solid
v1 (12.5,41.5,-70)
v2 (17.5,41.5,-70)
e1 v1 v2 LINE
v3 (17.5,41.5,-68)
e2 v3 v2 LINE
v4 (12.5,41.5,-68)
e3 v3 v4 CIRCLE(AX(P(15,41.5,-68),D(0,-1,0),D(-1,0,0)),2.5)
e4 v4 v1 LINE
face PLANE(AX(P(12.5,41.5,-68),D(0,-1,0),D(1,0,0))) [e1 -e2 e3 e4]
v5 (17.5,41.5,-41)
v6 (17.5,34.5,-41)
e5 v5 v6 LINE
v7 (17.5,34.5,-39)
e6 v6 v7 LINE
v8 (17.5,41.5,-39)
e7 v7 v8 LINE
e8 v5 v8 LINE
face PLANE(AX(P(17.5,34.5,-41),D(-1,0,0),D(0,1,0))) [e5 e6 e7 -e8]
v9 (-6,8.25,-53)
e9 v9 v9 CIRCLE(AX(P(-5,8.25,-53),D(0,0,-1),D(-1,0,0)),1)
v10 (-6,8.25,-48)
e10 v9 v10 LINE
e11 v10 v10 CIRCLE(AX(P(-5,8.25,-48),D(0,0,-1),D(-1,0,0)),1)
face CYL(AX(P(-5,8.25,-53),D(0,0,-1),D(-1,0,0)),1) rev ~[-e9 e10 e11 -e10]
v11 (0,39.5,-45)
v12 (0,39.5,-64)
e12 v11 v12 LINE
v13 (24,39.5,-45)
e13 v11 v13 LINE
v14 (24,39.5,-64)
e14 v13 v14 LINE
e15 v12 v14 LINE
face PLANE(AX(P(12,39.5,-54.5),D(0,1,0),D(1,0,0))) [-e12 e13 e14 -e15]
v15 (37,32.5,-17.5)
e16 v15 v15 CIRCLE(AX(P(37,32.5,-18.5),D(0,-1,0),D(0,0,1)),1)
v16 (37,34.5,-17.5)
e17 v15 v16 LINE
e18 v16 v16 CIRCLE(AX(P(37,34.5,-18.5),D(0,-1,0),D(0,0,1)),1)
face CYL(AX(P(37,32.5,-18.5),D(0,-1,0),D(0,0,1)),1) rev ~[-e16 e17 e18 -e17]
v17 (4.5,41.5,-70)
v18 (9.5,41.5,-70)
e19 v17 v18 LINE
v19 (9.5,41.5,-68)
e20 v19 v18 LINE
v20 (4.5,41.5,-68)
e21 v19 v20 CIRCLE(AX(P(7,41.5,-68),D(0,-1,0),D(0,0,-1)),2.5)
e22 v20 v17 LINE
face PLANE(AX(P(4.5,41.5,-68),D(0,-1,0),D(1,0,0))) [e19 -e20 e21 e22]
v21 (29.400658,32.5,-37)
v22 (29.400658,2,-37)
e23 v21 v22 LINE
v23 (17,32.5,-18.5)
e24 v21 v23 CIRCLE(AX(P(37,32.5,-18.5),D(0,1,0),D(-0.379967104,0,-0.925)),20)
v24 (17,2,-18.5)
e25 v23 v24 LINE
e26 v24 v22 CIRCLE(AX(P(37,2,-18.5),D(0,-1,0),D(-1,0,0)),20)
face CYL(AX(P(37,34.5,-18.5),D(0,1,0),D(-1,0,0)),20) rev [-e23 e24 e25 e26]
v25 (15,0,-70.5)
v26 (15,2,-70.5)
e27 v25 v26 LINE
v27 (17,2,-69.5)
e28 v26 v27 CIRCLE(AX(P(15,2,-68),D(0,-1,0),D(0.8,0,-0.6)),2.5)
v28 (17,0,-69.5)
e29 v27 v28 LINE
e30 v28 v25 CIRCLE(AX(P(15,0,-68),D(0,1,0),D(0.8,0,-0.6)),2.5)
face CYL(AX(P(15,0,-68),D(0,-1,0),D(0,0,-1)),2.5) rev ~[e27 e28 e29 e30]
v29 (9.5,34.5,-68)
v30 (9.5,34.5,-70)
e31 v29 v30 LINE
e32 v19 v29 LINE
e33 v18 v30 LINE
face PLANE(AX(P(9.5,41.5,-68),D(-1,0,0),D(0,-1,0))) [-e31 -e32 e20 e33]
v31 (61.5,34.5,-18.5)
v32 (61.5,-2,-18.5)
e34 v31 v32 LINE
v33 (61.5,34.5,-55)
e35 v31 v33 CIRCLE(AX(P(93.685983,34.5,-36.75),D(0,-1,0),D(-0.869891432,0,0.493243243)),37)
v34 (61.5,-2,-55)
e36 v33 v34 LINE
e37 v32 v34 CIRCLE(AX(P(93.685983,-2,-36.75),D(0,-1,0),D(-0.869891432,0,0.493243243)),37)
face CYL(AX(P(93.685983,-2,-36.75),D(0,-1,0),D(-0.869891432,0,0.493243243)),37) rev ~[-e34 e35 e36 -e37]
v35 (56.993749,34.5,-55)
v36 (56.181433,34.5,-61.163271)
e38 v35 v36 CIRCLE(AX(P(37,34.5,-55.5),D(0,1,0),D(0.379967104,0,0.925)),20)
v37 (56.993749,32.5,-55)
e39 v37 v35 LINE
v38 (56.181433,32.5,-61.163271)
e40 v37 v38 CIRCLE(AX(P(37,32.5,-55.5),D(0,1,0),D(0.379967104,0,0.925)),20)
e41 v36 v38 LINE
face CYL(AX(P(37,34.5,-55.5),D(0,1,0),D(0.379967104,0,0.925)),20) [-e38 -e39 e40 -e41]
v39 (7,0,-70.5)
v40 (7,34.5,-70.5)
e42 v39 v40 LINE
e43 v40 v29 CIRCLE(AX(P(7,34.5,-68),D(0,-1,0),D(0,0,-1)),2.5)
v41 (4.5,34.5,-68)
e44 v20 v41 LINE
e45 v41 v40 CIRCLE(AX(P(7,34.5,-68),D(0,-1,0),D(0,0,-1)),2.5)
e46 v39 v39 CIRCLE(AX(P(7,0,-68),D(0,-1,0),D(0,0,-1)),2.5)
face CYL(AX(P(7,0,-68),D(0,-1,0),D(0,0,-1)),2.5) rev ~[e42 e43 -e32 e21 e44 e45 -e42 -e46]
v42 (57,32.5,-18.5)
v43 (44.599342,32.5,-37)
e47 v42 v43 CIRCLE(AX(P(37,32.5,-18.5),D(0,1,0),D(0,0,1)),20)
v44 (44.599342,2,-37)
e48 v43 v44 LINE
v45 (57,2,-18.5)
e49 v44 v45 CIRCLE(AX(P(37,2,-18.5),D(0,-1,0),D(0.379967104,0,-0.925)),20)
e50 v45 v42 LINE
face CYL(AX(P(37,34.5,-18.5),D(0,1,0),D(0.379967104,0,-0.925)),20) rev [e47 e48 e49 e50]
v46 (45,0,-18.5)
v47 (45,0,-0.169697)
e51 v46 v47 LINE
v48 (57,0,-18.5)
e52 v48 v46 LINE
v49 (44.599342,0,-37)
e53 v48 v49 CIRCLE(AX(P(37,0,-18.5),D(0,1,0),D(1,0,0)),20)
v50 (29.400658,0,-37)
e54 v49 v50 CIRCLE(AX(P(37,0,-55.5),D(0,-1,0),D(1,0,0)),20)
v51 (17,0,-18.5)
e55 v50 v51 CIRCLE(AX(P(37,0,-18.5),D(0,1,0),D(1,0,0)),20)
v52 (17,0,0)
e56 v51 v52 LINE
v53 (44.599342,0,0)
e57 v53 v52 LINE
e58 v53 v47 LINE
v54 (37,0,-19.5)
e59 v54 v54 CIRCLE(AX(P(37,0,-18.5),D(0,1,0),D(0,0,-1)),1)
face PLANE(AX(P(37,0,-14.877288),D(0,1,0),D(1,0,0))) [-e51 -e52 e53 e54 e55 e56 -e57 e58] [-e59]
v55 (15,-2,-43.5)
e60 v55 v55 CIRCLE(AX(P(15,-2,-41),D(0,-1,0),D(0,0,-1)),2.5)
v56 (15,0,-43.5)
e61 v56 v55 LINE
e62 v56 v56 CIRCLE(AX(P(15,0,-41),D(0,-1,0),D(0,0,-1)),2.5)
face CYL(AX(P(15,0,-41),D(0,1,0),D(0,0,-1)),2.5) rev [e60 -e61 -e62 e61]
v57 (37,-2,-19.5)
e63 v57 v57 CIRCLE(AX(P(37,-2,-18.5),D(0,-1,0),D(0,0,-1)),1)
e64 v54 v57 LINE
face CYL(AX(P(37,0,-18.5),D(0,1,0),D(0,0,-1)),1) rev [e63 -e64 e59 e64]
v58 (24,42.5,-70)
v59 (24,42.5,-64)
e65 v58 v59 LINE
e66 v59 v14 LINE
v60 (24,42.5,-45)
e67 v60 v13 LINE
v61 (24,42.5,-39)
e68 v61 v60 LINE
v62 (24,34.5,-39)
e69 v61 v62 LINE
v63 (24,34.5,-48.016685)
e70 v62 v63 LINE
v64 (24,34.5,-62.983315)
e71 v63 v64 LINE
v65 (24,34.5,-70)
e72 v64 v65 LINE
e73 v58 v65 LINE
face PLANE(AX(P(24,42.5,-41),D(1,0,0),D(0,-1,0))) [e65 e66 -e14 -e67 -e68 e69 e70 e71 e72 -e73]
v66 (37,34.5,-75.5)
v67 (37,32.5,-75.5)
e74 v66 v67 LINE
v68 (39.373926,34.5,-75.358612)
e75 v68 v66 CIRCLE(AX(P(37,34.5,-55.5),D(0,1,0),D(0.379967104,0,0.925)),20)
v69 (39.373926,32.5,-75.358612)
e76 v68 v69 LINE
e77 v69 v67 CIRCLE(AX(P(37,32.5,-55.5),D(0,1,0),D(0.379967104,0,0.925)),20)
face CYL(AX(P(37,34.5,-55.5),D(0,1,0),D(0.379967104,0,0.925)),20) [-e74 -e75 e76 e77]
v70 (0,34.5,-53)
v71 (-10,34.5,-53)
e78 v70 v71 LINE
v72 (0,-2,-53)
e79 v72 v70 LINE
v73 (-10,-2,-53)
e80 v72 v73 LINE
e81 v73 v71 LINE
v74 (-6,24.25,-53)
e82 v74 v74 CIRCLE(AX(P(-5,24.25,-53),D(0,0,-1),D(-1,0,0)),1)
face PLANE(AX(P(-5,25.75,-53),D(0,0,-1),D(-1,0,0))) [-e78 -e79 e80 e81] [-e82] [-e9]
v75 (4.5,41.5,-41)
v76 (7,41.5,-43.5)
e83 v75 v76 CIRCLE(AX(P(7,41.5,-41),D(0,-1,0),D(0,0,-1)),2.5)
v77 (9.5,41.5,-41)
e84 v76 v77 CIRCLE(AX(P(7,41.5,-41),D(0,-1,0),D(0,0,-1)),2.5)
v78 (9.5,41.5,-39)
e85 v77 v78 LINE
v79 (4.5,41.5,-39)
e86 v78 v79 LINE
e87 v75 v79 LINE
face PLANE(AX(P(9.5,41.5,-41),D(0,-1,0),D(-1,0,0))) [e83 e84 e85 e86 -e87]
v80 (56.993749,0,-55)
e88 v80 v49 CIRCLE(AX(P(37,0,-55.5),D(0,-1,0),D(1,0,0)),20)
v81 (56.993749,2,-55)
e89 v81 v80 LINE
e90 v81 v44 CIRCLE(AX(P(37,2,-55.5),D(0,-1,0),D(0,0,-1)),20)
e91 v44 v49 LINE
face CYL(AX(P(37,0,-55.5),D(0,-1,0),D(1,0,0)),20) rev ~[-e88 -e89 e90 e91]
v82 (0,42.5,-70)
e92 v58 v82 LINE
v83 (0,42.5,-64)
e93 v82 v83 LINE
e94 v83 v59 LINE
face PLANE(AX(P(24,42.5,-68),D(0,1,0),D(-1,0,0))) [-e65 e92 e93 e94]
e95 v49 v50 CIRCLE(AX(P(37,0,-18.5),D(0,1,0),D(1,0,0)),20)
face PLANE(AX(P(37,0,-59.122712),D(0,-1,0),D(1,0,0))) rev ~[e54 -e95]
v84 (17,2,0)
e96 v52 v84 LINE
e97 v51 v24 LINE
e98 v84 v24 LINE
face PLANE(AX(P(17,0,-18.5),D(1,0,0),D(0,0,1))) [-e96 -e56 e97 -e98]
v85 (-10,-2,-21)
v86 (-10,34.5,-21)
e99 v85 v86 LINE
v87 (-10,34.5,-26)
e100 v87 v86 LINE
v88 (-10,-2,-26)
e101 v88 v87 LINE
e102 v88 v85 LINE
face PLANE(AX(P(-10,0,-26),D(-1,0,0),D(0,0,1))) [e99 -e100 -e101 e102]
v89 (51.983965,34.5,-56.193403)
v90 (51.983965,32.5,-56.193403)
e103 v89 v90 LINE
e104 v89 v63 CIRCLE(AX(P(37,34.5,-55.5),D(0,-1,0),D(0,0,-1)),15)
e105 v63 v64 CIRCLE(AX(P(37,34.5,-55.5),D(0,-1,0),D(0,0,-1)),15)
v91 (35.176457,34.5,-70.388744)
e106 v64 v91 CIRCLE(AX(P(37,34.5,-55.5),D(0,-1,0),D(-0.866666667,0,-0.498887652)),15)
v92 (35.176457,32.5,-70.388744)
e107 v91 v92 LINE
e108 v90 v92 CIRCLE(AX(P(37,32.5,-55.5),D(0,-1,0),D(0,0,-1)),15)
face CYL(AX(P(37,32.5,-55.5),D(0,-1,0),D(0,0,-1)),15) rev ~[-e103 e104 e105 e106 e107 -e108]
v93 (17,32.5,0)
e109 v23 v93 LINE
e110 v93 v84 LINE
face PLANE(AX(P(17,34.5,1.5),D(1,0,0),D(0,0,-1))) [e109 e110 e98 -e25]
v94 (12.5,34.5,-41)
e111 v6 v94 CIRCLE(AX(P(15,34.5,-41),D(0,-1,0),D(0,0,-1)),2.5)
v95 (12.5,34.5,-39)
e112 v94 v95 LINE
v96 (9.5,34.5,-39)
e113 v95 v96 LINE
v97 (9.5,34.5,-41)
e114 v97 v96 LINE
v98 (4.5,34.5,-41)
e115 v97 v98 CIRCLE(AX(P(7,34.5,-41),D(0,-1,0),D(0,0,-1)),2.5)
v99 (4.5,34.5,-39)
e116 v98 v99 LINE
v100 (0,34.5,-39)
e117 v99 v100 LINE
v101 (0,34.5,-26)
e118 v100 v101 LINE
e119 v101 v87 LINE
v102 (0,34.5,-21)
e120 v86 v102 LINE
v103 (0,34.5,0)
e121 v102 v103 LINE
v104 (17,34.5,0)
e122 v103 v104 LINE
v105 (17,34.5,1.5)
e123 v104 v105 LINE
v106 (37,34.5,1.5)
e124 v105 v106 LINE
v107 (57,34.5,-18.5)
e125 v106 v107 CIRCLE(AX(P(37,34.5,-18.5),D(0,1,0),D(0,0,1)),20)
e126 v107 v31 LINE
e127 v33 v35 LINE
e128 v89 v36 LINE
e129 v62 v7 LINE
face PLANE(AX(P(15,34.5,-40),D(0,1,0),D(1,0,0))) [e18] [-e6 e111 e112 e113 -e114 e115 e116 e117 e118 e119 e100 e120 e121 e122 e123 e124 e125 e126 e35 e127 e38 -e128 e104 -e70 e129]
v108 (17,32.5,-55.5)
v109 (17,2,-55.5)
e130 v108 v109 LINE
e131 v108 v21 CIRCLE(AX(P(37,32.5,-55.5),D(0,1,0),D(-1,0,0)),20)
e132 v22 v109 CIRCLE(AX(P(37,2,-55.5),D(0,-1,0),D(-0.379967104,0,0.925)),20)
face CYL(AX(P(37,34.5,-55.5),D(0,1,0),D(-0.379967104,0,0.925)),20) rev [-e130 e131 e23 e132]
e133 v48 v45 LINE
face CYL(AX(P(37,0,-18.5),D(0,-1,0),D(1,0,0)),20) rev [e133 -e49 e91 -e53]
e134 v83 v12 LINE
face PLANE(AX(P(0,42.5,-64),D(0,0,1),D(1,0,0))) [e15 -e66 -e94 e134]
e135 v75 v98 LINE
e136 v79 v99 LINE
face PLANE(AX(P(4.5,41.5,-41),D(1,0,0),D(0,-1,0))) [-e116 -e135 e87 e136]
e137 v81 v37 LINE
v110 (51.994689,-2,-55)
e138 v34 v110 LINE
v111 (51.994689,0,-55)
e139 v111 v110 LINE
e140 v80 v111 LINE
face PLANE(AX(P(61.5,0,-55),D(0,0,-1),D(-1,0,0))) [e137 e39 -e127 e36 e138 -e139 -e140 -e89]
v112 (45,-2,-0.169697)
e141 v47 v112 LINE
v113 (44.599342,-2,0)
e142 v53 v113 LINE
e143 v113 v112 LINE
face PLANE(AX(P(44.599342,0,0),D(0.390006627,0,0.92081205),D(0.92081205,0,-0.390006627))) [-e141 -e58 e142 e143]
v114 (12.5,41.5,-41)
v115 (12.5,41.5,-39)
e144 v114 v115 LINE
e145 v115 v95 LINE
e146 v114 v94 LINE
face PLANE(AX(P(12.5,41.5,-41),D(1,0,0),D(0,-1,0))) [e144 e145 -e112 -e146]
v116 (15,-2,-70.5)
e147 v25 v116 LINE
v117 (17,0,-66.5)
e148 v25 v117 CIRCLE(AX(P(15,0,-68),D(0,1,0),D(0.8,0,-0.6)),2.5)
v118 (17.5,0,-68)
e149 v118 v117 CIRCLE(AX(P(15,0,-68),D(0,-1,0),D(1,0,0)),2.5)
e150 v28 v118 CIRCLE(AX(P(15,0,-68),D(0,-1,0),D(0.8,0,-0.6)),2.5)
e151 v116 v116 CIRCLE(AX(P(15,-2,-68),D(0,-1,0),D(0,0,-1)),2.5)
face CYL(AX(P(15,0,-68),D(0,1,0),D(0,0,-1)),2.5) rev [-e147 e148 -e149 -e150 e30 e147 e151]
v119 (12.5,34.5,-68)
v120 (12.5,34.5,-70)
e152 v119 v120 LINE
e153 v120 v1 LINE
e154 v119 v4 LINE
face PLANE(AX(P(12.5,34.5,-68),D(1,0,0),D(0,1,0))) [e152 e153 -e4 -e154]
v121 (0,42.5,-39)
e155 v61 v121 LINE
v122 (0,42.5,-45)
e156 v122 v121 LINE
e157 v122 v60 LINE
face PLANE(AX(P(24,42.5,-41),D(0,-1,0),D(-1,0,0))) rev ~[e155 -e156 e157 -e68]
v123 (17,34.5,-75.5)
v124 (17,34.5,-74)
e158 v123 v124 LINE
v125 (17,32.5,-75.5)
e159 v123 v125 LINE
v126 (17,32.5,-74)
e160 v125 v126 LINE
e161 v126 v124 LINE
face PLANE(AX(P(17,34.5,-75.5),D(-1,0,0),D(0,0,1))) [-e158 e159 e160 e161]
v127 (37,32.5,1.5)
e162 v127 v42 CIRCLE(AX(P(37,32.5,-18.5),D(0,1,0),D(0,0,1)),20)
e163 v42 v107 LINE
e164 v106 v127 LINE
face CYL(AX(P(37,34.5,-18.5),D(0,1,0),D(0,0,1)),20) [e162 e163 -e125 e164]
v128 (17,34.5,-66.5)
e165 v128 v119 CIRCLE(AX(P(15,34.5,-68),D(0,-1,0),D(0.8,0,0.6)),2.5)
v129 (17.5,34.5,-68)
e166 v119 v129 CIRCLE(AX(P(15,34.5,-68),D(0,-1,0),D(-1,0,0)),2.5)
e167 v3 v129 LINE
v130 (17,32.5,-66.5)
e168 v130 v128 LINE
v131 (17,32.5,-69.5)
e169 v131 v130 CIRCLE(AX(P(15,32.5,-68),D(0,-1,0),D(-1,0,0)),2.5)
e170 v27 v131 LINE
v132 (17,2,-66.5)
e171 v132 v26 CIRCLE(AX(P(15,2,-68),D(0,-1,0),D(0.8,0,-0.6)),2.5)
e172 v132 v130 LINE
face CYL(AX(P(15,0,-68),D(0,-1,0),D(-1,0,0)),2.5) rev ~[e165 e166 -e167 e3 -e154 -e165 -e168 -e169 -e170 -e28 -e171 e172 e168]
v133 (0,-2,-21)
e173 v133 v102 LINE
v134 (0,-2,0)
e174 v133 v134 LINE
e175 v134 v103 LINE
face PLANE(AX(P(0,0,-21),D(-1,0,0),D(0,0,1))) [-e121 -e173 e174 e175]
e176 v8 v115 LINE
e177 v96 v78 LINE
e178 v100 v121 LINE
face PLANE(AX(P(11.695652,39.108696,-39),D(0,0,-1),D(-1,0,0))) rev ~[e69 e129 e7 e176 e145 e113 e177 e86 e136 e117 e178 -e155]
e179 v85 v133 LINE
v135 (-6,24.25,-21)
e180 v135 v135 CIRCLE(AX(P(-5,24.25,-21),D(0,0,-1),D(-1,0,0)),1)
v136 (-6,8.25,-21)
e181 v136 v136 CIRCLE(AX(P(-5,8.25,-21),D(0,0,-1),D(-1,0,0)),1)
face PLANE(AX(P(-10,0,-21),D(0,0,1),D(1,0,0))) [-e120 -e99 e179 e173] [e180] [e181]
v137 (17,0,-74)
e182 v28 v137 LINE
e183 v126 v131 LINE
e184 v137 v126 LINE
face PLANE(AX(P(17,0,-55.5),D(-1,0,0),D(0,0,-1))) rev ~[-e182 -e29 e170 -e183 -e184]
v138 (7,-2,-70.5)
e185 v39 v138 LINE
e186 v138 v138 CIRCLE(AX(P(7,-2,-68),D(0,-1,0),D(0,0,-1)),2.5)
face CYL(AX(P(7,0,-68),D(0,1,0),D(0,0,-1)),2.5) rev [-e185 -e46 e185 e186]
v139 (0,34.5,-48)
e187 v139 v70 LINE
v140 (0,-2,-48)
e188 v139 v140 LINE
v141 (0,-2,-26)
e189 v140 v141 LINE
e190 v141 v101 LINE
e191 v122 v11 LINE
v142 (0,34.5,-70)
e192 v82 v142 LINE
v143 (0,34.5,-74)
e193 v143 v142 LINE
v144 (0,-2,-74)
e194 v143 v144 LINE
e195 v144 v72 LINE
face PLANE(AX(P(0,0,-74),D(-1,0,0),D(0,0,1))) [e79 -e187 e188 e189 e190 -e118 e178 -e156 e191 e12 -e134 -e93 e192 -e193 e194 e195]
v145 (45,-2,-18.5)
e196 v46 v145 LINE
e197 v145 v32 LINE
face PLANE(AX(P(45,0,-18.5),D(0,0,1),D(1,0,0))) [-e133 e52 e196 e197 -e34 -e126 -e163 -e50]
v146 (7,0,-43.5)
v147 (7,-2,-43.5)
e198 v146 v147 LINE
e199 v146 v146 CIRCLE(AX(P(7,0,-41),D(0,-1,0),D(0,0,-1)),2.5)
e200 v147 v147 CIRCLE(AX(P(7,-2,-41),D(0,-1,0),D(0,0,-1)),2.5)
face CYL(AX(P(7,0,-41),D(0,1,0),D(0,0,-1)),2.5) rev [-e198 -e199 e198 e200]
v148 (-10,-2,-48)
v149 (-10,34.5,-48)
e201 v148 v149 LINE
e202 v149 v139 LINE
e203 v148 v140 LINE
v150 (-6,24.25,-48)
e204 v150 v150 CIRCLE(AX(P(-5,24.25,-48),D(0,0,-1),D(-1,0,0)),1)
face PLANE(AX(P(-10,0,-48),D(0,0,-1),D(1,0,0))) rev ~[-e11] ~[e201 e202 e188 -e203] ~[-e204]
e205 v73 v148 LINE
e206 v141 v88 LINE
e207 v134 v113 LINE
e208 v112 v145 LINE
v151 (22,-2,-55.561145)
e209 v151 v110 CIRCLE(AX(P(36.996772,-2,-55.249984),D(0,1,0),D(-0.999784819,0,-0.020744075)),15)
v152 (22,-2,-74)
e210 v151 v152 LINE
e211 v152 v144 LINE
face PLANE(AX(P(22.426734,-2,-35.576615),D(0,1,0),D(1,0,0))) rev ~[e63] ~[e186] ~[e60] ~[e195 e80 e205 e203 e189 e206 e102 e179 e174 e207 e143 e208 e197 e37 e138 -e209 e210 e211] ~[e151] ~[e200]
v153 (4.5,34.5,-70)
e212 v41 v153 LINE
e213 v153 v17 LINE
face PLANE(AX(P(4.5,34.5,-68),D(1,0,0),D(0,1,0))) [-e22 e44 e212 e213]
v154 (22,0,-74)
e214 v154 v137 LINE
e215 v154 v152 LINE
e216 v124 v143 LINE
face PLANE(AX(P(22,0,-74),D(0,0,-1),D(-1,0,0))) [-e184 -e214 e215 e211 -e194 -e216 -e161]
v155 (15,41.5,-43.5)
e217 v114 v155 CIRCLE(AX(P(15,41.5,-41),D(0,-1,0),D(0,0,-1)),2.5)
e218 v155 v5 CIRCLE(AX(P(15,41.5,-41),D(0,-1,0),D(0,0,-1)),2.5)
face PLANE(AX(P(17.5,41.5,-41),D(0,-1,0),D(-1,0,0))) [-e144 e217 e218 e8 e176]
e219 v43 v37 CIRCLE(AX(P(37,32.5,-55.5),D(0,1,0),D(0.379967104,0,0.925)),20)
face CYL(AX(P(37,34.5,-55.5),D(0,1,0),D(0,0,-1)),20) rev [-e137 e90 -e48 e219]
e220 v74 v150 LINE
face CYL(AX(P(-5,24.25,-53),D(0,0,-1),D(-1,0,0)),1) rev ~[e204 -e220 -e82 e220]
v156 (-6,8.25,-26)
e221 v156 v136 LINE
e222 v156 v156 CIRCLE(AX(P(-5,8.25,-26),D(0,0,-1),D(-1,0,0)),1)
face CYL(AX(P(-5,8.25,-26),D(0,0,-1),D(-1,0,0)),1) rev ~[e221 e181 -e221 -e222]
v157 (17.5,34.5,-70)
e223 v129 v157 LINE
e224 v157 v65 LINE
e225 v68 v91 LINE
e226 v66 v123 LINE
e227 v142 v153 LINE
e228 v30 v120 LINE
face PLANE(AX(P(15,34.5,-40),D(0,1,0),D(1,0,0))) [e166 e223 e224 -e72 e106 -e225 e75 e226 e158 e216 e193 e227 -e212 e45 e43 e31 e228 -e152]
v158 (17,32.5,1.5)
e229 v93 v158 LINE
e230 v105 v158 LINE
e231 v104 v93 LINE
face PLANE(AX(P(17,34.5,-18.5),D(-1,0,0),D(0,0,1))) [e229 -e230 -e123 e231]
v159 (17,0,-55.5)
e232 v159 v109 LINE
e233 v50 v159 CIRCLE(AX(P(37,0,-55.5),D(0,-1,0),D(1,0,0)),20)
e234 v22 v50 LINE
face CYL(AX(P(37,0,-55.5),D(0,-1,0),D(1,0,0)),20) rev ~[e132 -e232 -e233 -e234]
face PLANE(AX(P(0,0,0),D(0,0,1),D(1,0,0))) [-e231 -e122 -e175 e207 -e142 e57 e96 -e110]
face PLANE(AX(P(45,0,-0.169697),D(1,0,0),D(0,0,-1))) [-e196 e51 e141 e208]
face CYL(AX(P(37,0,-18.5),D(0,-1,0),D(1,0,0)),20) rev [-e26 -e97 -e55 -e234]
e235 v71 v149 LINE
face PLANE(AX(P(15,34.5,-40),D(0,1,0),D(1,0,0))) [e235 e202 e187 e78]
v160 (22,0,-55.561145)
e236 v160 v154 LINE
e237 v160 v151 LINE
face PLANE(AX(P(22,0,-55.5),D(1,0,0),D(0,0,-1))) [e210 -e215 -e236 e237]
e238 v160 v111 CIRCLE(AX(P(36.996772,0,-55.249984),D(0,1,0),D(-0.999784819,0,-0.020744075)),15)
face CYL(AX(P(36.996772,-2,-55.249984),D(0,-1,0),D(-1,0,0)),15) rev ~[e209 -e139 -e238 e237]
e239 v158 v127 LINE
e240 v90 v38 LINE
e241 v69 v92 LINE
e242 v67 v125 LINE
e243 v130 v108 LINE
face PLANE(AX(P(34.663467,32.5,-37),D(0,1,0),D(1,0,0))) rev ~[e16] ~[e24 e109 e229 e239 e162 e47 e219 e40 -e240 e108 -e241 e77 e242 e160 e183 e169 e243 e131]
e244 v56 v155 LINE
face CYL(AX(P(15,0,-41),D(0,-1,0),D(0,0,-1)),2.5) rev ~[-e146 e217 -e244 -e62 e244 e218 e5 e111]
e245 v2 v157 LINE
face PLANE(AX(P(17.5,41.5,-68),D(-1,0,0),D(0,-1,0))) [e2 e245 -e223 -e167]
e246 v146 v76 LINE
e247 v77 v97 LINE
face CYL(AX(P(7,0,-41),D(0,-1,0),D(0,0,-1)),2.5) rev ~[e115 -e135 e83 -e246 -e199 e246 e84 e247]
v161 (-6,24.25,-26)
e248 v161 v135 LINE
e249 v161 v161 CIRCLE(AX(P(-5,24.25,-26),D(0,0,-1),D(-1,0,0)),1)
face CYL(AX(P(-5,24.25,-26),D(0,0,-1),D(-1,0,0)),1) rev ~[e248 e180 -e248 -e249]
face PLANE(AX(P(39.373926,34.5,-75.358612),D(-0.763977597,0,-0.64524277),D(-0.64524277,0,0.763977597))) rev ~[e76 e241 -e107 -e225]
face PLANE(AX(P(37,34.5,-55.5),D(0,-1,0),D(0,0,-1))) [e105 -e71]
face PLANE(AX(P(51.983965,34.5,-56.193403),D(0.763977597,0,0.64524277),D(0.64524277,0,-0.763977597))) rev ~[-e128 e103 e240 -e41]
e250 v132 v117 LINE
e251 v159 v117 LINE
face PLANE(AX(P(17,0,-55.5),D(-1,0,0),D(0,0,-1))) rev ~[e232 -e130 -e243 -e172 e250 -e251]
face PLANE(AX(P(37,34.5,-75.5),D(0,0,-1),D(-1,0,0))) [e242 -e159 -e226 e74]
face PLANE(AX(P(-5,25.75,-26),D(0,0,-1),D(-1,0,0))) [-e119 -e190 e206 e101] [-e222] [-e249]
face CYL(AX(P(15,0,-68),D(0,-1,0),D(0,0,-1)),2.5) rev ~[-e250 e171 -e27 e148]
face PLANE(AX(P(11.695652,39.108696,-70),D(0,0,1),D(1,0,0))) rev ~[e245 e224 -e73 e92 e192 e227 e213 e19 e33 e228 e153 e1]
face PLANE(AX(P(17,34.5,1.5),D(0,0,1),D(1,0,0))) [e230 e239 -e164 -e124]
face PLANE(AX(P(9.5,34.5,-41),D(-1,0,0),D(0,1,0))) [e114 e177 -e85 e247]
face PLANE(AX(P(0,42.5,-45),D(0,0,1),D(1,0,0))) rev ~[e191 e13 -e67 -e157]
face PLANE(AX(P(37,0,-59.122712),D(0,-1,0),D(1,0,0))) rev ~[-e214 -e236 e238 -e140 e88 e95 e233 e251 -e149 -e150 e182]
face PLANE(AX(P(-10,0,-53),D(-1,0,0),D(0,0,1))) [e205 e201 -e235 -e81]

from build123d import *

# Parameters (mm, degrees)
SKETCH1_R                = 2
SKETCH1_R_2              = 1
BOSS_EXTRUDE18_DEPTH     = 34.5
CUT_EXTRUDE16_DEPTH      = 32.5
BOSS_EXTRUDE21_DEPTH     = 2
SKETCH9_R                = 2
BOSS_EXTRUDE22_DEPTH     = 34.5
SKETCH10_R               = 2
BOSS_EXTRUDE23_DEPTH     = 34.5
SKETCH11_R               = 2
CUT_EXTRUDE17_DEPTH      = 34.5
SKETCH12_W               = 24
SKETCH12_H               = 27
BOSS_EXTRUDE24_DEPTH     = 8
SKETCH13_W               = 24
SKETCH13_H               = 19
CUT_EXTRUDE18_DEPTH      = 3
SKETCH16_R               = 2.5
CUT_EXTRUDE21_DEPTH      = 41.5
SKETCH20_R               = 2.5
CUT_EXTRUDE22_DEPTH      = 41.5
SKETCH21_R               = 2.5
CUT_EXTRUDE23_DEPTH      = 41.5
SKETCH22_R               = 2.5
CUT_EXTRUDE24_DEPTH      = 41.5
BOSS_EXTRUDE25_DEPTH     = 2
BOSS_EXTRUDE26_DEPTH     = 2
SKETCH27_R               = 1
CUT_EXTRUDE27_DEPTH      = 5
SKETCH28_R               = 1
CUT_EXTRUDE28_DEPTH      = 5
SKETCH29_R               = 15
CUT_EXTRUDE29_DEPTH      = 2
SKETCH30_R               = 1
CUT_EXTRUDE30_DEPTH      = 2
CUT_EXTRUDE31_DEPTH      = 104.309002512
CUT_EXTRUDE31_DEPTH_BACK = 10
SKETCH32_R               = 2.5
SKETCH32_R_2             = 1
BOSS_EXTRUDE28_DEPTH     = 2
CUT_EXTRUDE32_DEPTH      = 2
SKETCH35_R               = 15
CUT_EXTRUDE33_DEPTH      = 2
BOSS_EXTRUDE30_START     = -2
SKETCH36_R               = 2.5
BOSS_EXTRUDE30_DEPTH     = 2
CUT_EXTRUDE40_START      = -2
CUT_EXTRUDE40_DEPTH      = 2
SKETCH39_R               = 2.5
CUT_EXTRUDE41_DEPTH      = 2
CUT_EXTRUDE42_START      = -2
CUT_EXTRUDE42_DEPTH      = 2
SKETCH42_R               = 1
BOSS_EXTRUDE31_DEPTH     = 5
SKETCH43_R               = 1
CUT_EXTRUDE44_DEPTH      = 5
SKETCH46_R               = 1
BOSS_EXTRUDE32_DEPTH     = 5
SKETCH47_R               = 1
CUT_EXTRUDE45_DEPTH      = 5
SKETCH48_R               = 1
BOSS_EXTRUDE33_DEPTH     = 5
SKETCH49_R               = 1
CUT_EXTRUDE46_DEPTH      = 5
SKETCH50_R               = 1
BOSS_EXTRUDE34_DEPTH     = 5
SKETCH51_R               = 1
CUT_EXTRUDE47_DEPTH      = 5


with BuildPart() as part:
    # Sketch1 → Boss-Extrude18 (new body)
    with BuildSketch(Plane(origin=(0, 0, 0), x_dir=(1, 0, 0), z_dir=(0, 1, 0))):
        with BuildLine():
            Line((0, 0), (17, 0))
            Line((17, 0), (17, 18.5))
            ThreePointArc((17, 18.5), (20.386950287, 29.635824138), (29.400657923, 37))
            ThreePointArc((29.400657923, 37), (20.386950287, 44.364175862), (17, 55.5))
            Line((17, 55.5), (17, 66.5))
            ThreePointArc((17, 66.5), (12.5, 68), (17, 69.5))
            Line((17, 69.5), (17, 74))
            Line((17, 74), (0, 74))
            Line((0, 74), (0, 53))
            Line((0, 53), (-10, 53))
            Line((-10, 53), (-10, 48))
            Line((-10, 48), (0, 48))
            Line((0, 48), (0, 26))
            Line((0, 26), (-10, 26))
            Line((-10, 26), (-10, 21))
            Line((-10, 21), (0, 21))
            Line((0, 21), (0, 0))
        make_face()
        with Locations(Location((7, 40, 0), (0, 0, 270))):
            Circle(SKETCH1_R, mode=Mode.SUBTRACT)
        with Locations(Location((15, 40, 0), (0, 0, 270))):
            Circle(SKETCH1_R, mode=Mode.SUBTRACT)
        with Locations(Location((7, 68, 0), (0, 0, 270))):
            Circle(SKETCH1_R, mode=Mode.SUBTRACT)
        with BuildLine():
            ThreePointArc((44.599342077, 37), (53.613049713, 29.635824138), (57, 18.5))
            Line((57, 18.5), (61.5, 18.5))
            ThreePointArc((61.5, 18.5), (56.685982974, 36.75), (61.5, 55))
            Line((61.5, 55), (56.993749023, 55))
            ThreePointArc((56.993749023, 55), (53.472542885, 44.157366669), (44.599342077, 37))
        make_face()
        with BuildLine():
            ThreePointArc((44.599342077, 0), (44.800132537, 0.083759004), (45, 0.16969722))
            Line((45, 0.16969722), (45, 18.5))
            Line((45, 18.5), (57, 18.5))
            ThreePointArc((57, 18.5), (53.613049713, 29.635824138), (44.599342077, 37))
            ThreePointArc((44.599342077, 37), (53.472542885, 44.157366669), (56.993749023, 55))
            Line((56.993749023, 55), (51.991664351, 55))
            ThreePointArc((51.991664351, 55), (36.749965261, 40.502084057), (22, 55.5))
            Line((22, 55.5), (22, 74))
            Line((22, 74), (17, 74))
            Line((17, 74), (17, 69.5))
            ThreePointArc((17, 69.5), (17.371708245, 68.790569415), (17.5, 68))
            ThreePointArc((17.5, 68), (17.371708245, 67.209430585), (17, 66.5))
            Line((17, 66.5), (17, 55.5))
            ThreePointArc((17, 55.5), (20.386950287, 44.364175862), (29.400657923, 37))
            ThreePointArc((29.400657923, 37), (20.386950287, 29.635824138), (17, 18.5))
            Line((17, 18.5), (17, 0))
            Line((17, 0), (44.599342077, 0))
        make_face()
        with Locations(Location((37, 18.5, 0), (0, 0, 270))):
            Circle(SKETCH1_R_2, mode=Mode.SUBTRACT)
    extrude(amount=BOSS_EXTRUDE18_DEPTH)

    # Sketch7 → Cut-Extrude16 (cut)
    with BuildSketch(Plane(origin=(0, 34.5, 0), x_dir=(1, 0, 0), z_dir=(0, 1, 0))):
        with BuildLine():
            Line((17, 55.5), (17, 75.5))
            Line((17, 75.5), (37, 75.5))
            ThreePointArc((37, 75.5), (56.62141687, 59.372983346), (44.599342077, 37))
            ThreePointArc((44.599342077, 37), (56.62141687, 14.627016654), (37, -1.5))
            Line((37, -1.5), (17, -1.5))
            Line((17, -1.5), (17, 18.5))
            ThreePointArc((17, 18.5), (20.386950287, 29.635824138), (29.400657923, 37))
            ThreePointArc((29.400657923, 37), (20.386950287, 44.364175862), (17, 55.5))
        make_face()
    extrude(amount=-CUT_EXTRUDE16_DEPTH, mode=Mode.SUBTRACT)

    # Sketch8 → Boss-Extrude21 (add)
    with BuildSketch(Plane(origin=(0, 34.5, 0), x_dir=(1, 0, 0), z_dir=(0, 1, 0))):
        with BuildLine():
            Line((17, 18.5), (17, -1.5))
            Line((17, -1.5), (37, -1.5))
            ThreePointArc((37, -1.5), (56.62141687, 14.627016654), (44.599342077, 37))
            ThreePointArc((44.599342077, 37), (56.62141687, 59.372983346), (37, 75.5))
            Line((37, 75.5), (17, 75.5))
            Line((17, 75.5), (17, 55.5))
            ThreePointArc((17, 55.5), (20.386950287, 44.364175862), (29.400657923, 37))
            ThreePointArc((29.400657923, 37), (20.386950287, 29.635824138), (17, 18.5))
        make_face()
    extrude(amount=-BOSS_EXTRUDE21_DEPTH)

    # Sketch9 → Boss-Extrude22 (add)
    with BuildSketch(Plane(origin=(0, 34.5, 0), x_dir=(1, 0, 0), z_dir=(0, 1, 0))):
        with Locations((7, 40)):
            Circle(SKETCH9_R)
    extrude(amount=-BOSS_EXTRUDE22_DEPTH)

    # Sketch10 → Boss-Extrude23 (add)
    with BuildSketch(Plane(origin=(0, 34.5, 0), x_dir=(1, 0, 0), z_dir=(0, 1, 0))):
        with Locations((15, 40)):
            Circle(SKETCH10_R)
    extrude(amount=-BOSS_EXTRUDE23_DEPTH)

    # Sketch11 → Cut-Extrude17 (cut)
    with BuildSketch(Plane(origin=(0, 34.5, 0), x_dir=(1, 0, 0), z_dir=(0, 1, 0))):
        with Locations(Location((7, 41, 0), (0, 0, 270))):
            Circle(SKETCH11_R)
        with Locations(Location((15, 41, 0), (0, 0, 270))):
            Circle(SKETCH11_R)
    extrude(amount=-CUT_EXTRUDE17_DEPTH, mode=Mode.SUBTRACT)

    # Sketch12 → Boss-Extrude24 (add)
    with BuildSketch(Plane(origin=(0, 34.5, 0), x_dir=(1, 0, 0), z_dir=(0, 1, 0))):
        with Locations((12, 54.5)):
            Rectangle(SKETCH12_W, SKETCH12_H)
    extrude(amount=BOSS_EXTRUDE24_DEPTH)

    # Sketch13 → Cut-Extrude18 (cut)
    with BuildSketch(Plane(origin=(0, 42.5, 0), x_dir=(1, 0, 0), z_dir=(0, 1, 0))):
        with Locations((12, 54.5)):
            Rectangle(SKETCH13_W, SKETCH13_H)
    extrude(amount=-CUT_EXTRUDE18_DEPTH, mode=Mode.SUBTRACT)

    # Sketch16 → Cut-Extrude21 (cut)
    with BuildSketch(Plane(origin=(0, 0, 0), x_dir=(-1, 0, 0), z_dir=(0, -1, 0))):
        with Locations(Location((-7, 68, 0), (0, 0, 90))):
            Circle(SKETCH16_R)
    extrude(amount=-CUT_EXTRUDE21_DEPTH, mode=Mode.SUBTRACT)

    # Sketch20 → Cut-Extrude22 (cut)
    with BuildSketch(Plane(origin=(0, 0, 0), x_dir=(-1, 0, 0), z_dir=(0, -1, 0))):
        with Locations((-15, 68)):
            Circle(SKETCH20_R)
    extrude(amount=-CUT_EXTRUDE22_DEPTH, mode=Mode.SUBTRACT)

    # Sketch21 → Cut-Extrude23 (cut)
    with BuildSketch(Plane(origin=(0, 0, 0), x_dir=(-1, 0, 0), z_dir=(0, -1, 0))):
        with Locations(Location((-7, 41, 0), (0, 0, 90))):
            Circle(SKETCH21_R)
    extrude(amount=-CUT_EXTRUDE23_DEPTH, mode=Mode.SUBTRACT)

    # Sketch22 → Cut-Extrude24 (cut)
    with BuildSketch(Plane(origin=(0, 0, 0), x_dir=(-1, 0, 0), z_dir=(0, -1, 0))):
        with Locations(Location((-15, 41, 0), (0, 0, 90))):
            Circle(SKETCH22_R)
    extrude(amount=-CUT_EXTRUDE24_DEPTH, mode=Mode.SUBTRACT)

    # Sketch23 → Boss-Extrude25 (add)
    with BuildSketch(Plane(origin=(0, 0, -68), x_dir=(-1, 0, 0), z_dir=(0, 0, -1))):
        Polygon((-24, 39.595178564), (-24, 42.5), (0, 42.5), (0, 34.5), (-4.5, 34.5), (-4.5, 41.5), (-9.5, 41.5), (-9.5, 34.5), (-12.5, 34.5), (-12.5, 41.5), (-17.5, 41.5), (-17.5, 34.5), (-24, 34.5), align=None)
    extrude(amount=BOSS_EXTRUDE25_DEPTH)

    # Sketch26 → Boss-Extrude26 (add)
    with BuildSketch(Plane.XY.offset(-41)):
        Polygon((19.87143218, 42.5), (24, 42.5), (24, 34.5), (17.5, 34.5), (17.5, 41.5), (12.5, 41.5), (12.5, 34.5), (9.5, 34.5), (9.5, 41.5), (4.5, 41.5), (4.5, 34.5), (0, 34.5), (0, 42.5), align=None)
    extrude(amount=BOSS_EXTRUDE26_DEPTH)

    # Sketch27 → Cut-Extrude27 (cut)
    with BuildSketch(Plane(origin=(0, 0, -53), x_dir=(-1, 0, 0), z_dir=(0, 0, -1))):
        with Locations((5, 8.75)):
            Circle(SKETCH27_R)
        with Locations((5, 25.75)):
            Circle(SKETCH27_R)
    extrude(amount=-CUT_EXTRUDE27_DEPTH, mode=Mode.SUBTRACT)

    # Sketch28 → Cut-Extrude28 (cut)
    with BuildSketch(Plane(origin=(0, 0, -26), x_dir=(-1, 0, 0), z_dir=(0, 0, -1))):
        with Locations((5, 8.75)):
            Circle(SKETCH28_R)
        with Locations((5, 25.75)):
            Circle(SKETCH28_R)
    extrude(amount=-CUT_EXTRUDE28_DEPTH, mode=Mode.SUBTRACT)

    # Sketch29 → Cut-Extrude29 (cut)
    with BuildSketch(Plane.XZ.offset(-32.5)):
        with Locations(Location((37, -55.5, 0), (0, 0, 270))):
            Circle(SKETCH29_R)
    extrude(amount=-CUT_EXTRUDE29_DEPTH, mode=Mode.SUBTRACT)

    # Sketch30 → Cut-Extrude30 (cut)
    with BuildSketch(Plane(origin=(0, 32.5, 0), x_dir=(-1, 0, 0), z_dir=(0, -1, 0))):
        with Locations(Location((-37, 18.5, 0), (0, 0, 270))):
            Circle(SKETCH30_R)
    extrude(amount=-CUT_EXTRUDE30_DEPTH, mode=Mode.SUBTRACT)

    # Sketch31 → Cut-Extrude31 (cut, two sides)
    with BuildSketch(Plane(origin=(0, 34.5, 0), x_dir=(1, 0, 0), z_dir=(0, 1, 0))) as cut_extrude31_sk:
        with BuildLine():
            ThreePointArc((37, 70.5), (47.358546152, 66.348987124), (51.98396451, 56.193402882))
            Line((51.98396451, 56.193402882), (56.181432658, 61.163271245))
            ThreePointArc((56.181432658, 61.163271245), (49.904855392, 70.779551934), (39.37392553, 75.358612177))
            Line((39.37392553, 75.358612177), (35.176457383, 70.388743813))
            ThreePointArc((35.176457383, 70.388743813), (36.086533304, 70.472160118), (37, 70.5))
        make_face()
    extrude(amount=CUT_EXTRUDE31_DEPTH, mode=Mode.SUBTRACT)
    extrude(cut_extrude31_sk.sketch, amount=-CUT_EXTRUDE31_DEPTH_BACK, mode=Mode.SUBTRACT)

    # Sketch32 → Boss-Extrude28 (add)
    with BuildSketch(Plane(origin=(0, 0, 0), x_dir=(-1, 0, 0), z_dir=(0, -1, 0))):
        Polygon((0, 74), (0, 53), (10, 53), (10, 48), (0, 48), (0, 26), (10, 26), (10, 21), (0, 21), (0, 0), (-44.599342077, 0), (-45, 0.16969722), (-45, 18.5), (-61.5, 18.5), (-61.5, 55), (-51.991664351, 55), (-22, 55.5), (-22, 74), align=None)
        with Locations(Location((-7, 68, 0), (0, 0, 90))):
            Circle(SKETCH32_R, mode=Mode.SUBTRACT)
        with Locations(Location((-7, 41, 0), (0, 0, 90))):
            Circle(SKETCH32_R, mode=Mode.SUBTRACT)
        with Locations(Location((-15, 68, 0), (0, 0, 90))):
            Circle(SKETCH32_R, mode=Mode.SUBTRACT)
        with Locations(Location((-15, 41, 0), (0, 0, 90))):
            Circle(SKETCH32_R, mode=Mode.SUBTRACT)
        with Locations(Location((-37, 18.5, 0), (0, 0, 90))):
            Circle(SKETCH32_R_2, mode=Mode.SUBTRACT)
    extrude(amount=BOSS_EXTRUDE28_DEPTH)

    # Sketch34 → Cut-Extrude32 (cut)
    with BuildSketch(Plane(origin=(0, -2, 0), x_dir=(-1, 0, 0), z_dir=(0, -1, 0))):
        with BuildLine():
            Line((-61.5, 55), (-61.5, 18.5))
            ThreePointArc((-61.5, 18.5), (-56.685982974, 36.75), (-61.5, 55))
        make_face()
    extrude(amount=-CUT_EXTRUDE32_DEPTH, mode=Mode.SUBTRACT)

    # Sketch35 → Cut-Extrude33 (cut)
    with BuildSketch(Plane(origin=(0, -2, 0), x_dir=(-1, 0, 0), z_dir=(0, -1, 0))):
        with Locations((-36.996772278, 55.249984327)):
            Circle(SKETCH35_R)
    extrude(amount=-CUT_EXTRUDE33_DEPTH, mode=Mode.SUBTRACT)

    # Sketch36 → Boss-Extrude30 (add)
    with BuildSketch(Plane(origin=(0, -2, 0), x_dir=(-1, 0, 0), z_dir=(0, -1, 0)).offset(BOSS_EXTRUDE30_START)):
        with Locations(Location((-15, 68, 0), (0, 0, 143.130102354))):
            Circle(SKETCH36_R)
    extrude(amount=-BOSS_EXTRUDE30_DEPTH)

    # Sketch38 → Cut-Extrude40 (cut)
    with BuildSketch(Plane.XZ.offset(2).offset(CUT_EXTRUDE40_START)):
        with BuildLine():
            Line((17, -75.5), (57, -75.5))
            Line((57, -75.5), (57, -55.5))
            ThreePointArc((57, -55.5), (37, -35.5), (17, -55.5))
            Line((17, -55.5), (17, -75.5))
        make_face()
    extrude(amount=-CUT_EXTRUDE40_DEPTH, mode=Mode.SUBTRACT)

    # Sketch39 → Cut-Extrude41 (cut)
    with BuildSketch(Plane(origin=(0, 0, 0), x_dir=(-1, 0, 0), z_dir=(0, -1, 0))):
        with Locations(Location((-15, 68, 0), (0, 0, 90))):
            Circle(SKETCH39_R)
    extrude(amount=-CUT_EXTRUDE41_DEPTH, mode=Mode.SUBTRACT)

    # Sketch41 → Cut-Extrude42 (cut)
    with BuildSketch(Plane(origin=(0, -2, 0), x_dir=(-1, 0, 0), z_dir=(0, -1, 0)).offset(CUT_EXTRUDE42_START)):
        with BuildLine():
            Line((-17, 18.5), (-17, -1.5))
            Line((-17, -1.5), (-37, -1.5))
            Line((-37, -1.5), (-57, -1.5))
            Line((-57, -1.5), (-57, 18.5))
            ThreePointArc((-57, 18.5), (-37, 38.5), (-17, 18.5))
        make_face()
    extrude(amount=-CUT_EXTRUDE42_DEPTH, mode=Mode.SUBTRACT)

    # Sketch42 → Boss-Extrude31 (add)
    with BuildSketch(Plane(origin=(0, 0, -26), x_dir=(-1, 0, 0), z_dir=(0, 0, -1))):
        with Locations((5, 8.75)):
            Circle(SKETCH42_R)
    extrude(amount=-BOSS_EXTRUDE31_DEPTH)

    # Sketch43 → Cut-Extrude44 (cut)
    with BuildSketch(Plane(origin=(0, 0, -26), x_dir=(-1, 0, 0), z_dir=(0, 0, -1))):
        with Locations((5, 8.25)):
            Circle(SKETCH43_R)
    extrude(amount=-CUT_EXTRUDE44_DEPTH, mode=Mode.SUBTRACT)

    # Sketch46 → Boss-Extrude32 (add)
    with BuildSketch(Plane(origin=(0, 0, -26), x_dir=(-1, 0, 0), z_dir=(0, 0, -1))):
        with Locations((5, 25.75)):
            Circle(SKETCH46_R)
    extrude(amount=-BOSS_EXTRUDE32_DEPTH)

    # Sketch47 → Cut-Extrude45 (cut)
    with BuildSketch(Plane(origin=(0, 0, -26), x_dir=(-1, 0, 0), z_dir=(0, 0, -1))):
        with Locations((5, 24.25)):
            Circle(SKETCH47_R)
    extrude(amount=-CUT_EXTRUDE45_DEPTH, mode=Mode.SUBTRACT)

    # Sketch48 → Boss-Extrude33 (add)
    with BuildSketch(Plane(origin=(0, 0, -53), x_dir=(-1, 0, 0), z_dir=(0, 0, -1))):
        with Locations((5, 8.75)):
            Circle(SKETCH48_R)
    extrude(amount=-BOSS_EXTRUDE33_DEPTH)

    # Sketch49 → Cut-Extrude46 (cut)
    with BuildSketch(Plane(origin=(0, 0, -53), x_dir=(-1, 0, 0), z_dir=(0, 0, -1))):
        with Locations((5, 8.25)):
            Circle(SKETCH49_R)
    extrude(amount=-CUT_EXTRUDE46_DEPTH, mode=Mode.SUBTRACT)

    # Sketch50 → Boss-Extrude34 (add)
    with BuildSketch(Plane(origin=(0, 0, -53), x_dir=(-1, 0, 0), z_dir=(0, 0, -1))):
        with Locations((5, 25.75)):
            Circle(SKETCH50_R)
    extrude(amount=-BOSS_EXTRUDE34_DEPTH)

    # Sketch51 → Cut-Extrude47 (cut)
    with BuildSketch(Plane(origin=(0, 0, -53), x_dir=(-1, 0, 0), z_dir=(0, 0, -1))):
        with Locations((5, 24.25)):
            Circle(SKETCH51_R)
    extrude(amount=-CUT_EXTRUDE47_DEPTH, mode=Mode.SUBTRACT)


solid = part.part
